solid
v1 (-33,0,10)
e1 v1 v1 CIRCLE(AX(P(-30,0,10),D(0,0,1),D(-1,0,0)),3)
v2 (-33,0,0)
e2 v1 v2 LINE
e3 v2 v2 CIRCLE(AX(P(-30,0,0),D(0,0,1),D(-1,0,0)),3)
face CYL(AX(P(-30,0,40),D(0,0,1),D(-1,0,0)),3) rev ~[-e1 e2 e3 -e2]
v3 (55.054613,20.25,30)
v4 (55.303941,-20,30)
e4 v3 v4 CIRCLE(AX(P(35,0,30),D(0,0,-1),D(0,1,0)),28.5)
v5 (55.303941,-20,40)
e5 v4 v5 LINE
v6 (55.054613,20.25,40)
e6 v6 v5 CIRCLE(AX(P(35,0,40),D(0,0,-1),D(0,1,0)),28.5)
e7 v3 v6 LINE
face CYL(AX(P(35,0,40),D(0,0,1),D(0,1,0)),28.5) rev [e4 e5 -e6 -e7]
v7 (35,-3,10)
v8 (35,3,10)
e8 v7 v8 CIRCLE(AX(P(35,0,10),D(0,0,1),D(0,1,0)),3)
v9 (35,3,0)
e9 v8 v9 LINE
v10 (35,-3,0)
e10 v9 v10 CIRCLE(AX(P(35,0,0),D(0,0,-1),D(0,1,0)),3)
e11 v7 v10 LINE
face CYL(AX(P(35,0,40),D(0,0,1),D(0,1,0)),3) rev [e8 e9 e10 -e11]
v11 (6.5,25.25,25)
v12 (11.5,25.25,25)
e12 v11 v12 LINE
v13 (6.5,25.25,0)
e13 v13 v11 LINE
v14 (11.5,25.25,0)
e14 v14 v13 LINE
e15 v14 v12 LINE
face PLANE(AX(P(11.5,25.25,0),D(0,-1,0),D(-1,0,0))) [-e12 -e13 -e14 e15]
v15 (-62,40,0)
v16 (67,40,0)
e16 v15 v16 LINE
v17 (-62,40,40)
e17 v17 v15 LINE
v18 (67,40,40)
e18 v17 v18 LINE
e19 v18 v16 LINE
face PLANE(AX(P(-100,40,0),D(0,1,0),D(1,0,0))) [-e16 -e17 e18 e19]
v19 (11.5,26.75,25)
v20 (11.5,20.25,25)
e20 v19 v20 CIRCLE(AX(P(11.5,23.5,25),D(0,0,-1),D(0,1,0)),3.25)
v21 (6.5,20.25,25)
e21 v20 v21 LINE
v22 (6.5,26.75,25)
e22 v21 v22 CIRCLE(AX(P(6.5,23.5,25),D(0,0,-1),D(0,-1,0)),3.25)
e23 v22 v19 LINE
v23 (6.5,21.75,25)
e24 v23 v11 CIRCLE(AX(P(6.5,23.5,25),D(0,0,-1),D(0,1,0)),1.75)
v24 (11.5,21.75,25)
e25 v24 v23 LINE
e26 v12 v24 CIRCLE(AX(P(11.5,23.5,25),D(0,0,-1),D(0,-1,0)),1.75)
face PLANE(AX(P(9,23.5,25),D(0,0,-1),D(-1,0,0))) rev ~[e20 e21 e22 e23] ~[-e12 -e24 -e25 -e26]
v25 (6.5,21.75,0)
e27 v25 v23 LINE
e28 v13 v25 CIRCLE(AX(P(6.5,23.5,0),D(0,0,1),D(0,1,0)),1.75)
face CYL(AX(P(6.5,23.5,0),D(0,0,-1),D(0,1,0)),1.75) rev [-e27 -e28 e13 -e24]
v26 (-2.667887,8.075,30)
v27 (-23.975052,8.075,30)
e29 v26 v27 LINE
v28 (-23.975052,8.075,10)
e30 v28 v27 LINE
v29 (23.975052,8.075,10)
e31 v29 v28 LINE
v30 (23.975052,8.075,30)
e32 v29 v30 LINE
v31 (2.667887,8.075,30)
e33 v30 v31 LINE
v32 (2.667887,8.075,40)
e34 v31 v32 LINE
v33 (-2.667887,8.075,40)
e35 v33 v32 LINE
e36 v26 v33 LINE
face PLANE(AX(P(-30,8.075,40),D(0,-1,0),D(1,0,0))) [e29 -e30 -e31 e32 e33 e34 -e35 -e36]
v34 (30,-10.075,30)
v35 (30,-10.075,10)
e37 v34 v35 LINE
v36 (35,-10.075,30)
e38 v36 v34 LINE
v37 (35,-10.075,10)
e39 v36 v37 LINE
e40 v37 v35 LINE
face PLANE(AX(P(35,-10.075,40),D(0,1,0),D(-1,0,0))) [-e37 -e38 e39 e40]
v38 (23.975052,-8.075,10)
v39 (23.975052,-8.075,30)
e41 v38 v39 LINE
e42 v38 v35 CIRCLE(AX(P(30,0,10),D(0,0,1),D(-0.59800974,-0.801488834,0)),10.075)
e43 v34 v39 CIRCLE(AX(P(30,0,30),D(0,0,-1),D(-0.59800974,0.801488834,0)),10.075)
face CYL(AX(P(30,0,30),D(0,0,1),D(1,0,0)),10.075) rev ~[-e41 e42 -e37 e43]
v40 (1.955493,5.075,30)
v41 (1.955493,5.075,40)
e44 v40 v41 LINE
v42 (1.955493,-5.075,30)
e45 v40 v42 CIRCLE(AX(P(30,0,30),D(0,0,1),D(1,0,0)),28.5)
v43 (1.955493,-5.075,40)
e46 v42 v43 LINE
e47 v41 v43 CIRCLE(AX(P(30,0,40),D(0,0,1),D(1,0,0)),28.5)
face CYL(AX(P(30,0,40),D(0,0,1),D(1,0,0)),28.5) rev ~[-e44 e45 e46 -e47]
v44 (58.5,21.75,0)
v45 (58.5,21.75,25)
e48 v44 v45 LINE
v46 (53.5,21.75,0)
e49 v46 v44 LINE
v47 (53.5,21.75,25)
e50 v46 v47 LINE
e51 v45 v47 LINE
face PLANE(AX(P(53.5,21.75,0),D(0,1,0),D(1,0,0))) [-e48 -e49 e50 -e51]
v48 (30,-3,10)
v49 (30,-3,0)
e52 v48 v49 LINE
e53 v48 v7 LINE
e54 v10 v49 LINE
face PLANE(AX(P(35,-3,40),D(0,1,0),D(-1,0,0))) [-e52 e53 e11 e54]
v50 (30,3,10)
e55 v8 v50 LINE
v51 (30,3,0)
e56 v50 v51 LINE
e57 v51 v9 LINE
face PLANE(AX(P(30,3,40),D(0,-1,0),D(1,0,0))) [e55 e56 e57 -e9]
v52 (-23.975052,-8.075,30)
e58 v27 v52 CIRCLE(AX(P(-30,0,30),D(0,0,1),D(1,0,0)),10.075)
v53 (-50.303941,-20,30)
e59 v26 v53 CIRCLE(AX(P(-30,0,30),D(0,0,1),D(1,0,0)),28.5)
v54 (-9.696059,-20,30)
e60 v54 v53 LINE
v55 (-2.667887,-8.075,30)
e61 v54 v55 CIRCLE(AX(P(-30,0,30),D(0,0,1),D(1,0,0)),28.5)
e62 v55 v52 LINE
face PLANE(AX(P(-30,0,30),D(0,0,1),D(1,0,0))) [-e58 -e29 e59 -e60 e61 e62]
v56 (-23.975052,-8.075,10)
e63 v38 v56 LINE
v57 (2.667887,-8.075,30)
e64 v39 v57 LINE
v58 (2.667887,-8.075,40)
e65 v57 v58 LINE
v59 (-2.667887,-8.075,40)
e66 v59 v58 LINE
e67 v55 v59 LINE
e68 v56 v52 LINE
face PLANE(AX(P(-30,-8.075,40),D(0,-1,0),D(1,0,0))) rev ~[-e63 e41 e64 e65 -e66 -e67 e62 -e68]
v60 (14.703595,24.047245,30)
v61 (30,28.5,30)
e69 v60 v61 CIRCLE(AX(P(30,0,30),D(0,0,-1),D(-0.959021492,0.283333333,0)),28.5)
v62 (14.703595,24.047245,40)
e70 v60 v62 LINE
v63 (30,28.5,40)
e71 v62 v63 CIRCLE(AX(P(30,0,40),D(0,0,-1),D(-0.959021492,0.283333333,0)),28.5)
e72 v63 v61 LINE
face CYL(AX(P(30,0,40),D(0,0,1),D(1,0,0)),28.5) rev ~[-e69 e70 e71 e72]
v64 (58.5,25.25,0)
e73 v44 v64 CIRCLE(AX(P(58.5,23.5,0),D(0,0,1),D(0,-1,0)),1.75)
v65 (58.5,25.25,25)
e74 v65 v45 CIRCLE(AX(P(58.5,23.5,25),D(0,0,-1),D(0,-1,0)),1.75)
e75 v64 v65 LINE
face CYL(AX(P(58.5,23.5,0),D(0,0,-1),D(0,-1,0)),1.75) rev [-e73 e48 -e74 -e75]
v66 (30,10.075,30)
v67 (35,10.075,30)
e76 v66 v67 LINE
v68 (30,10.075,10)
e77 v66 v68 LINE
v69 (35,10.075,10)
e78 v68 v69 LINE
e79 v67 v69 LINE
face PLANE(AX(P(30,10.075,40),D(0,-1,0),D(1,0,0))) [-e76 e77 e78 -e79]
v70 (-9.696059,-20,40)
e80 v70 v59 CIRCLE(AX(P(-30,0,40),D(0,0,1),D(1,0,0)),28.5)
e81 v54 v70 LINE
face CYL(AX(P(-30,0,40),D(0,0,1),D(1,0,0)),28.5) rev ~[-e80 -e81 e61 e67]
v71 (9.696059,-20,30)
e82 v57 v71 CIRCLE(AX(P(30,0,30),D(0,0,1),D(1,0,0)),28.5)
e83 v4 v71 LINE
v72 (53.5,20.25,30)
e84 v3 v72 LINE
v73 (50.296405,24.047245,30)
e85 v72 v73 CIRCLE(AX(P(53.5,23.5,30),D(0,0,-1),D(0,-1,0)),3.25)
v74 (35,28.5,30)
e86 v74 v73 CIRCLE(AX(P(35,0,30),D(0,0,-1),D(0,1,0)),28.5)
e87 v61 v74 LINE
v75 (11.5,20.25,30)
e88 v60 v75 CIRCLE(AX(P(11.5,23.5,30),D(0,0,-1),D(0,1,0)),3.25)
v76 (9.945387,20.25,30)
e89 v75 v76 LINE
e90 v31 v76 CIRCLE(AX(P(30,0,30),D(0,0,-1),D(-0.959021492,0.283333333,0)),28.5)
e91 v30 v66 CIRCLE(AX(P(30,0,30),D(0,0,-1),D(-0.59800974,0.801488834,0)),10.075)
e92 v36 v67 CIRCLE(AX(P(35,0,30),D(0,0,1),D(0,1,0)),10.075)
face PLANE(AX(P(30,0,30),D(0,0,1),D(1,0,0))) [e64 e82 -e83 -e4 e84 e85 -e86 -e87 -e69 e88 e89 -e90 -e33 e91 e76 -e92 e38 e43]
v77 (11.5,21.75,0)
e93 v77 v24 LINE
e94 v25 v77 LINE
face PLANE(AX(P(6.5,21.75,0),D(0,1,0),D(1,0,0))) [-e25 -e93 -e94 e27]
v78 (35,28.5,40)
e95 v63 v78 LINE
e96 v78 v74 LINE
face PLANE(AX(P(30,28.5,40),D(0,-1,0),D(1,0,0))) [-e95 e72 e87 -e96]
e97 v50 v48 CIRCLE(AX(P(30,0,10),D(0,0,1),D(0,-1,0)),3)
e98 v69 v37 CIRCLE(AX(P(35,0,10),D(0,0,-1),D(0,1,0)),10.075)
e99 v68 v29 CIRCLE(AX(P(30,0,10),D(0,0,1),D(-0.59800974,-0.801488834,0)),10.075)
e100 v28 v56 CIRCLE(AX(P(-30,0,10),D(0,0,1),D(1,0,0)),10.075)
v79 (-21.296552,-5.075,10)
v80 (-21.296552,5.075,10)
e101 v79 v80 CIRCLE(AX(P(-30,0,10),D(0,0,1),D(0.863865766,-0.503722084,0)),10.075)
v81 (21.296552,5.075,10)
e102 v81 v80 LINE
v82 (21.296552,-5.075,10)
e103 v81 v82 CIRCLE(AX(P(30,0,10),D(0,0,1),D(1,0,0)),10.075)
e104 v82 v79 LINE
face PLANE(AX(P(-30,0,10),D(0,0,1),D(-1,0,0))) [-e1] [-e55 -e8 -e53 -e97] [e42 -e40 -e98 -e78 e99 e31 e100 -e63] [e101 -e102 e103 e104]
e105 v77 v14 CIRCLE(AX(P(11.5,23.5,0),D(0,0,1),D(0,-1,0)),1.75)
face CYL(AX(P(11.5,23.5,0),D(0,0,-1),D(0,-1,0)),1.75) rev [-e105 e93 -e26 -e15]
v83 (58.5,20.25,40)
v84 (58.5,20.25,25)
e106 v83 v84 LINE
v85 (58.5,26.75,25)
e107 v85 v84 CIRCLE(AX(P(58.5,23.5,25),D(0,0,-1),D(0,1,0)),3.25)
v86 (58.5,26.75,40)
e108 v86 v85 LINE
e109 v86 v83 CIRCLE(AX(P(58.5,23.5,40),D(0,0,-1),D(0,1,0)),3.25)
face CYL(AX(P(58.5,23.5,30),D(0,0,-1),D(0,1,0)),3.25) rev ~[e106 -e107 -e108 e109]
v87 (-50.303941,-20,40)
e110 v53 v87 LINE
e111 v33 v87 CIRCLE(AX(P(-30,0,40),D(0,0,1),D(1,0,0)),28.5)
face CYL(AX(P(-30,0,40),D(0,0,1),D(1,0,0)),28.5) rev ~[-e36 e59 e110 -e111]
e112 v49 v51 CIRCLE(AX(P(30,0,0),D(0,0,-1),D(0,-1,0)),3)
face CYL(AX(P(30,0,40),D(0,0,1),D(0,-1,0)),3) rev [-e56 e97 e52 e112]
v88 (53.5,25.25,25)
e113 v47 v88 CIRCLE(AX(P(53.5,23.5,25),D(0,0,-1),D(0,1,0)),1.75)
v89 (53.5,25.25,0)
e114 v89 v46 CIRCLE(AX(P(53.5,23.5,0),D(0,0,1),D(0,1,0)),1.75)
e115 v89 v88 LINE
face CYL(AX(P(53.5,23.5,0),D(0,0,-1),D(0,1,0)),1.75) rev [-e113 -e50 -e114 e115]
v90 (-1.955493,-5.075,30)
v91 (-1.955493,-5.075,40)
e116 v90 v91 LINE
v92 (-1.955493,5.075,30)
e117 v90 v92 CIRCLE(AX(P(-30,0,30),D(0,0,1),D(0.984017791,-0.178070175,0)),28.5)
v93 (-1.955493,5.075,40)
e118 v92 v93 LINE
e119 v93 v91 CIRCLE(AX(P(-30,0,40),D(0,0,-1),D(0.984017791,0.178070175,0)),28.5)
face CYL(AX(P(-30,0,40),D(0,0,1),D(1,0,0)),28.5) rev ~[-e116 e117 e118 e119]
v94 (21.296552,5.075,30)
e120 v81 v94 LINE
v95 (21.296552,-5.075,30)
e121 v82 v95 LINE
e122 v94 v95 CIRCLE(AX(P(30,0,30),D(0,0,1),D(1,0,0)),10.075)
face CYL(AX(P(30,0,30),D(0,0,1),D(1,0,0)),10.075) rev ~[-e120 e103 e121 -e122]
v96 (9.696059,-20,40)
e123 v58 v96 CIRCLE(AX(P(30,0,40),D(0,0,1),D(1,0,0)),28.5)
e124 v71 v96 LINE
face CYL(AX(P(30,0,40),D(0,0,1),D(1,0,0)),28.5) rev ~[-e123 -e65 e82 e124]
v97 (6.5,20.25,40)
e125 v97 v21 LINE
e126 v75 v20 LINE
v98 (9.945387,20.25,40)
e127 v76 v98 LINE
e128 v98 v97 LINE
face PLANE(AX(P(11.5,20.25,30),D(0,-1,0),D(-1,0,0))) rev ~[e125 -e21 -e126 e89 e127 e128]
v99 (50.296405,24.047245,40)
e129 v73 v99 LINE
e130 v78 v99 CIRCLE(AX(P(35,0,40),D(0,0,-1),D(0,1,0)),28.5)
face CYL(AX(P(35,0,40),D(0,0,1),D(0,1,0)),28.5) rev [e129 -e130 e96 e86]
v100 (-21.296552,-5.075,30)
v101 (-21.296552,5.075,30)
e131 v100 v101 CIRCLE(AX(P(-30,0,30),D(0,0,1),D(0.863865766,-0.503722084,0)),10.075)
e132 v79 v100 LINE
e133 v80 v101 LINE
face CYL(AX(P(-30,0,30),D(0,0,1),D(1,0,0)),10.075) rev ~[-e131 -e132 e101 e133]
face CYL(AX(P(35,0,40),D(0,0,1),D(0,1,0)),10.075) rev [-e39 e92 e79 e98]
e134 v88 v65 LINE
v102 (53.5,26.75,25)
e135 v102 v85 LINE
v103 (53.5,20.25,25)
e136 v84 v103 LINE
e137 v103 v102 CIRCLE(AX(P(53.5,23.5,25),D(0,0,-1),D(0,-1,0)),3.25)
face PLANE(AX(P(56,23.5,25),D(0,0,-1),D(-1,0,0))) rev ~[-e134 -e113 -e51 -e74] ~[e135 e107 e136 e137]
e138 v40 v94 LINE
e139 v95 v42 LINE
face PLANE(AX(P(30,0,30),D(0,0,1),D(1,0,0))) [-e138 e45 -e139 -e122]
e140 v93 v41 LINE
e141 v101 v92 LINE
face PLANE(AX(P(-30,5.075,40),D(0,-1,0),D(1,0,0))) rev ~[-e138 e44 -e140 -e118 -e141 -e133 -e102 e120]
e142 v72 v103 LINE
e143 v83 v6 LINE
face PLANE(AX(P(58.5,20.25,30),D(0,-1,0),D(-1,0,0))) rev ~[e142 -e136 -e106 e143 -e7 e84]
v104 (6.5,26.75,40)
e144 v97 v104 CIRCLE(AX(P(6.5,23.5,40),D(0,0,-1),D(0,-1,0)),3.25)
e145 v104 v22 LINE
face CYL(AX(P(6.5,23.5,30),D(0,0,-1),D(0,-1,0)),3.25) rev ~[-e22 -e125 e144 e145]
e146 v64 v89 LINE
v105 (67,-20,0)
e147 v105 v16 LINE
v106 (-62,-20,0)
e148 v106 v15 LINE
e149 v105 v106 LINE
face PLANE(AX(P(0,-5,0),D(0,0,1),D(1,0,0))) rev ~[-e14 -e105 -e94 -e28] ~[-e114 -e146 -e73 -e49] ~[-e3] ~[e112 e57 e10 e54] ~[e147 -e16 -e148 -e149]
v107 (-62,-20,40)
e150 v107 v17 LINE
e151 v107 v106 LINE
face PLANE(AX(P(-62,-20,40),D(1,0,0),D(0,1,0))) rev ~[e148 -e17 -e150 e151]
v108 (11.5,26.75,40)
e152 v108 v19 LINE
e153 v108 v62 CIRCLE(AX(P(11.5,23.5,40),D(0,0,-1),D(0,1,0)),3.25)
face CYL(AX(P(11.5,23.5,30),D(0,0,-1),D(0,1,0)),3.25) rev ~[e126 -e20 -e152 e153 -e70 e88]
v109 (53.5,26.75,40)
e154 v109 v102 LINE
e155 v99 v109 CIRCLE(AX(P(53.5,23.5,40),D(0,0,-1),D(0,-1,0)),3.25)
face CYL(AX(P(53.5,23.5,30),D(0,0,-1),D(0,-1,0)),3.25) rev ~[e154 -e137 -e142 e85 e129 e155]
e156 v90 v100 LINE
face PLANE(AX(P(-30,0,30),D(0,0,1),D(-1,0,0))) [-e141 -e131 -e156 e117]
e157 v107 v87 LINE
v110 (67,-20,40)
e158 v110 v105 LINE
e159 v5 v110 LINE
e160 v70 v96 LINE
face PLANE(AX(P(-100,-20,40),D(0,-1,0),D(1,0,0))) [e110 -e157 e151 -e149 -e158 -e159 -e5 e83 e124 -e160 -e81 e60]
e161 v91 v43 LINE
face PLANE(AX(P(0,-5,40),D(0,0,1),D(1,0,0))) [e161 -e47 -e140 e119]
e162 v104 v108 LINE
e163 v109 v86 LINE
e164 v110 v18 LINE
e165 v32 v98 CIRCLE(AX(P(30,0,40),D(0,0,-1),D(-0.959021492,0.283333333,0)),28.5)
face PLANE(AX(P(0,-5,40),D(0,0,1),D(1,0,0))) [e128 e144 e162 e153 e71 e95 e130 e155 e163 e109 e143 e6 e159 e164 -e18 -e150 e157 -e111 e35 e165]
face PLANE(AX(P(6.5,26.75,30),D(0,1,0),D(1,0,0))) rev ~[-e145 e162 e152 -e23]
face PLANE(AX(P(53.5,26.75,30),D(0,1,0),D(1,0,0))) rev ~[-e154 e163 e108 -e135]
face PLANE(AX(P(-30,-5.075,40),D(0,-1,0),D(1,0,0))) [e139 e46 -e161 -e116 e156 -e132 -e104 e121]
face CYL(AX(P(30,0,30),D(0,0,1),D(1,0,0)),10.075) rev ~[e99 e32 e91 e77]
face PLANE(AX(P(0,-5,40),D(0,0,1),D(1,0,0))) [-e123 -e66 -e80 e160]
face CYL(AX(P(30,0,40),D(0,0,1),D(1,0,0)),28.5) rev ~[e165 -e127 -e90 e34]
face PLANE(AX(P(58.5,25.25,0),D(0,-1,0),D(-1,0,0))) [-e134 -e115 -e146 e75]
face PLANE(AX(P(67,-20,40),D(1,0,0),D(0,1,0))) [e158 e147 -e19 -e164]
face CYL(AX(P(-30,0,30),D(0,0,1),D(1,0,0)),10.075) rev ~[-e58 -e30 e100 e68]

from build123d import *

# Parameters (mm, degrees)
SKETCH1_W                          = 200
SKETCH1_H                          = 90
BOSS_EXTRUDE1_DEPTH                = 40
SHAFTFITS_WITH_5MM_TOLERANCE_REACH = 120.743
SKETCH2_R                          = 3
SHAFTFITTOLERANCE_DEPTH            = 40
SKETCH3_R                          = 8.075
PULLEY_DEPTH                       = 30
SKETCH4_R                          = 26.5
GEARS_FITS_DEPTH                   = 10
GEAR_LETOUT_REACH                  = 120.743
SKETCH5_W                          = 200
SKETCH5_H                          = 30
CLOSED_LOOP_TIMING_BELT_REACH      = 116.891
SKETCH8_W                          = 60
SKETCH8_H                          = 3
SKETCH7_R                          = 10.075
PULLEY_MARGIN_DEPTH                = 20
SKETCH6_R                          = 28.5
GEAR_MARGIN_DEPTH                  = 10
PULLEYFIXTOLERANCE_DEPTH           = 30
GEARFITSTOLERANCE_DEPTH            = 10
M3_SCREWHOLES_REACH                = 116.891
M3_SCREWHEADS_DEPTH                = 5
M3_SCREWHEADS_DIRECTION_2_REACH    = 113.803
SKETCH16_W                         = 33
SKETCH16_H                         = 60
REMOVEEXTRA1_DEPTH                 = 40
SKETCH17_W                         = 5
SKETCH17_H                         = 60
REMOVEEXTRA2_DEPTH                 = 40


with BuildPart() as part:
    # Sketch1 → Boss-Extrude1 (new body)
    with BuildSketch(Plane.XY):
        with Locations((0, -5)):
            Rectangle(SKETCH1_W, SKETCH1_H)
    extrude(amount=BOSS_EXTRUDE1_DEPTH)

    # Sketch2 → ShaftFits_with.5mm_tolerance (cut, up to next)
    with BuildSketch(Plane.XY.offset(40), mode=Mode.PRIVATE) as shaftfits_with_5mm_tolerance_sk1:
        with Locations((30, 0)):
            Circle(SKETCH2_R)
    shaftfits_with_5mm_tolerance_tool1 = extrude(shaftfits_with_5mm_tolerance_sk1.sketch, amount=-SHAFTFITS_WITH_5MM_TOLERANCE_REACH, mode=Mode.PRIVATE) & part.part
    # Sketch2 → ShaftFits_with.5mm_tolerance (cut, up to next)
    with BuildSketch(Plane.XY.offset(40), mode=Mode.PRIVATE) as shaftfits_with_5mm_tolerance_sk2:
        with Locations(Location((-30, 0, 0), (0, 0, 180))):
            Circle(SKETCH2_R)
    shaftfits_with_5mm_tolerance_tool2 = extrude(shaftfits_with_5mm_tolerance_sk2.sketch, amount=-SHAFTFITS_WITH_5MM_TOLERANCE_REACH, mode=Mode.PRIVATE) & part.part
    add(shaftfits_with_5mm_tolerance_tool1.solids().sort_by_distance((30, 0, 40))[0], mode=Mode.SUBTRACT)
    add(shaftfits_with_5mm_tolerance_tool2.solids().sort_by_distance((-30, 0, 40))[0], mode=Mode.SUBTRACT)

    # Sketch9 → ShaftFitTolerance (cut)
    with BuildSketch(Plane.XY.offset(40)):
        with BuildLine():
            Line((30, 3), (35, 3))
            ThreePointArc((35, 3), (38, 0), (35, -3))
            Line((35, -3), (30, -3))
            ThreePointArc((30, -3), (27, 0), (30, 3))
        make_face()
    extrude(amount=-SHAFTFITTOLERANCE_DEPTH, mode=Mode.SUBTRACT)

    # Sketch3 → Pulley (cut)
    with BuildSketch(Plane.XY.offset(40)):
        with Locations((30, 0)):
            Circle(SKETCH3_R)
        with Locations(Location((-30, 0, 0), (0, 0, 180))):
            Circle(SKETCH3_R)
    extrude(amount=-PULLEY_DEPTH, mode=Mode.SUBTRACT)

    # Sketch4 → Gears fits (cut)
    with BuildSketch(Plane.XY.offset(40)):
        with Locations((30, 0)):
            Circle(SKETCH4_R)
        with Locations(Location((-30, 0, 0), (0, 0, 180))):
            Circle(SKETCH4_R)
    extrude(amount=-GEARS_FITS_DEPTH, mode=Mode.SUBTRACT)

    # Sketch5 → Gear letout (cut, up to next)
    with BuildSketch(Plane.XY.offset(40), mode=Mode.PRIVATE) as gear_letout_sk1:
        with Locations((0, -35)):
            Rectangle(SKETCH5_W, SKETCH5_H)
    gear_letout_tool1 = extrude(gear_letout_sk1.sketch, amount=-GEAR_LETOUT_REACH, mode=Mode.PRIVATE) & part.part
    add(gear_letout_tool1.solids().sort_by_distance((0, -35, 40))[0], mode=Mode.SUBTRACT)

    # Closed-loop timing belt: up to this face of the body (flat: up to its plane)
    closed_loop_timing_belt_end = Plane(part.part.faces().sort_by_distance((-22.15339549, 0, 10))[0])
    # Sketch8 → Closed-loop timing belt (cut, up to the picked face)
    with BuildSketch(Plane.XY.offset(40), mode=Mode.PRIVATE) as closed_loop_timing_belt_sk1:
        with Locations((0, 6.575)):
            Rectangle(SKETCH8_W, SKETCH8_H)
    closed_loop_timing_belt_tool1 = split(extrude(closed_loop_timing_belt_sk1.sketch, amount=-CLOSED_LOOP_TIMING_BELT_REACH, mode=Mode.PRIVATE), bisect_by=closed_loop_timing_belt_end, keep=Keep.BOTH, mode=Mode.PRIVATE)
    # Sketch8 → Closed-loop timing belt (cut, up to the picked face)
    with BuildSketch(Plane.XY.offset(40), mode=Mode.PRIVATE) as closed_loop_timing_belt_sk2:
        with Locations((0, -6.575)):
            Rectangle(SKETCH8_W, SKETCH8_H)
    closed_loop_timing_belt_tool2 = split(extrude(closed_loop_timing_belt_sk2.sketch, amount=-CLOSED_LOOP_TIMING_BELT_REACH, mode=Mode.PRIVATE), bisect_by=closed_loop_timing_belt_end, keep=Keep.BOTH, mode=Mode.PRIVATE)
    add(closed_loop_timing_belt_tool1.solids().sort_by(Axis((0, 6.575, 40), (0, 0, -1)))[0], mode=Mode.SUBTRACT)
    add(closed_loop_timing_belt_tool2.solids().sort_by(Axis((0, -6.575, 40), (0, 0, -1)))[0], mode=Mode.SUBTRACT)

    # Sketch7 → Pulley margin (cut)
    with BuildSketch(Plane.XY.offset(30)):
        with Locations((30, 0)):
            Circle(SKETCH7_R)
        with Locations((-30, 0)):
            Circle(SKETCH7_R)
    extrude(amount=-PULLEY_MARGIN_DEPTH, mode=Mode.SUBTRACT)

    # Sketch6 → Gear margin (cut)
    with BuildSketch(Plane.XY.offset(40)):
        with Locations((30, 0)):
            Circle(SKETCH6_R)
        with Locations((-30, 0)):
            Circle(SKETCH6_R)
    extrude(amount=-GEAR_MARGIN_DEPTH, mode=Mode.SUBTRACT)

    # Sketch12 → PulleyFixTolerance (cut)
    with BuildSketch(Plane.XY.offset(40)):
        with BuildLine():
            Line((30, 10.075), (35, 10.075))
            ThreePointArc((35, 10.075), (45.075, 0), (35, -10.075))
            Line((35, -10.075), (30, -10.075))
            ThreePointArc((30, -10.075), (19.925, 0), (30, 10.075))
        make_face()
    extrude(amount=-PULLEYFIXTOLERANCE_DEPTH, mode=Mode.SUBTRACT)

    # Sketch13 → GearFitsTolerance (cut)
    with BuildSketch(Plane.XY.offset(40)):
        with BuildLine():
            Line((30, 28.5), (35, 28.5))
            ThreePointArc((35, 28.5), (63.5, 0), (35, -28.5))
            Line((35, -28.5), (30, -28.5))
            ThreePointArc((30, -28.5), (1.5, 0), (30, 28.5))
        make_face()
    extrude(amount=-GEARFITSTOLERANCE_DEPTH, mode=Mode.SUBTRACT)

    # M3 ScrewHoles: up to this face of the body (flat: up to its plane)
    m3_screwholes_end = Plane(part.part.faces().sort_by_distance((0, -15.281996404, 40))[0])
    # Sketch14 → M3 ScrewHoles (cut, up to the picked face)
    with BuildSketch(Plane(origin=(0, 0, 0), x_dir=(-1, 0, 0), z_dir=(0, 0, -1)), mode=Mode.PRIVATE) as m3_screwholes_sk1:
        with BuildLine():
            Line((-6.5, 21.75), (-11.5, 21.75))
            ThreePointArc((-11.5, 21.75), (-13.25, 23.5), (-11.5, 25.25))
            Line((-11.5, 25.25), (-6.5, 25.25))
            ThreePointArc((-6.5, 25.25), (-4.75, 23.5), (-6.5, 21.75))
        make_face()
    m3_screwholes_tool1 = split(extrude(m3_screwholes_sk1.sketch, amount=-M3_SCREWHOLES_REACH, mode=Mode.PRIVATE), bisect_by=m3_screwholes_end, keep=Keep.BOTH, mode=Mode.PRIVATE)
    # Sketch14 → M3 ScrewHoles (cut, up to the picked face)
    with BuildSketch(Plane(origin=(0, 0, 0), x_dir=(-1, 0, 0), z_dir=(0, 0, -1)), mode=Mode.PRIVATE) as m3_screwholes_sk2:
        with BuildLine():
            Line((-53.5, 21.75), (-58.5, 21.75))
            ThreePointArc((-58.5, 21.75), (-60.25, 23.5), (-58.5, 25.25))
            Line((-58.5, 25.25), (-53.5, 25.25))
            ThreePointArc((-53.5, 25.25), (-51.75, 23.5), (-53.5, 21.75))
        make_face()
    m3_screwholes_tool2 = split(extrude(m3_screwholes_sk2.sketch, amount=-M3_SCREWHOLES_REACH, mode=Mode.PRIVATE), bisect_by=m3_screwholes_end, keep=Keep.BOTH, mode=Mode.PRIVATE)
    # Sketch14 → M3 ScrewHoles (cut, up to the picked face)
    with BuildSketch(Plane(origin=(0, 0, 0), x_dir=(-1, 0, 0), z_dir=(0, 0, -1)), mode=Mode.PRIVATE) as m3_screwholes_sk3:
        with BuildLine():
            Line((-53.5, -21.75), (-58.5, -21.75))
            ThreePointArc((-58.5, -21.75), (-60.25, -23.5), (-58.5, -25.25))
            Line((-58.5, -25.25), (-53.5, -25.25))
            ThreePointArc((-53.5, -25.25), (-51.75, -23.5), (-53.5, -21.75))
        make_face()
    m3_screwholes_tool3 = split(extrude(m3_screwholes_sk3.sketch, amount=-M3_SCREWHOLES_REACH, mode=Mode.PRIVATE), bisect_by=m3_screwholes_end, keep=Keep.BOTH, mode=Mode.PRIVATE)
    # Sketch14 → M3 ScrewHoles (cut, up to the picked face)
    with BuildSketch(Plane(origin=(0, 0, 0), x_dir=(-1, 0, 0), z_dir=(0, 0, -1)), mode=Mode.PRIVATE) as m3_screwholes_sk4:
        with BuildLine():
            Line((-6.5, -21.75), (-11.5, -21.75))
            ThreePointArc((-11.5, -21.75), (-13.25, -23.5), (-11.5, -25.25))
            Line((-11.5, -25.25), (-6.5, -25.25))
            ThreePointArc((-6.5, -25.25), (-4.75, -23.5), (-6.5, -21.75))
        make_face()
    m3_screwholes_tool4 = split(extrude(m3_screwholes_sk4.sketch, amount=-M3_SCREWHOLES_REACH, mode=Mode.PRIVATE), bisect_by=m3_screwholes_end, keep=Keep.BOTH, mode=Mode.PRIVATE)
    add(m3_screwholes_tool1.solids().sort_by(Axis((9, 23.5, 0), (0, 0, 1)))[0], mode=Mode.SUBTRACT)
    add(m3_screwholes_tool2.solids().sort_by(Axis((56, 23.5, 0), (0, 0, 1)))[0], mode=Mode.SUBTRACT)
    add(m3_screwholes_tool3.solids().sort_by(Axis((56, -23.5, 0), (0, 0, 1)))[0], mode=Mode.SUBTRACT)
    add(m3_screwholes_tool4.solids().sort_by(Axis((9, -23.5, 0), (0, 0, 1)))[0], mode=Mode.SUBTRACT)

    # Sketch15 → M3 ScrewHeads (cut)
    with BuildSketch(Plane.XY.offset(30)):
        with BuildLine():
            Line((6.5, 26.75), (11.5, 26.75))
            ThreePointArc((11.5, 26.75), (14.75, 23.5), (11.5, 20.25))
            Line((11.5, 20.25), (6.5, 20.25))
            ThreePointArc((6.5, 20.25), (3.25, 23.5), (6.5, 26.75))
        make_face()
        with BuildLine():
            Line((53.5, 26.75), (58.5, 26.75))
            ThreePointArc((58.5, 26.75), (61.75, 23.5), (58.5, 20.25))
            Line((58.5, 20.25), (53.5, 20.25))
            ThreePointArc((53.5, 20.25), (50.25, 23.5), (53.5, 26.75))
        make_face()
    extrude(amount=-M3_SCREWHEADS_DEPTH, mode=Mode.SUBTRACT)

    # M3 ScrewHeads direction 2: up to this face of the body (flat: up to its plane)
    m3_screwheads_direction_2_end = Plane(part.part.faces().sort_by_distance((0, -15.281996404, 40))[0])
    # Sketch15 → M3 ScrewHeads direction 2 (cut, up to the picked face)
    with BuildSketch(Plane.XY.offset(30), mode=Mode.PRIVATE) as m3_screwheads_direction_2_sk1:
        with BuildLine():
            Line((6.5, 26.75), (11.5, 26.75))
            ThreePointArc((11.5, 26.75), (14.75, 23.5), (11.5, 20.25))
            Line((11.5, 20.25), (6.5, 20.25))
            ThreePointArc((6.5, 20.25), (3.25, 23.5), (6.5, 26.75))
        make_face()
    m3_screwheads_direction_2_tool1 = split(extrude(m3_screwheads_direction_2_sk1.sketch, amount=M3_SCREWHEADS_DIRECTION_2_REACH, mode=Mode.PRIVATE), bisect_by=m3_screwheads_direction_2_end, keep=Keep.BOTH, mode=Mode.PRIVATE)
    # Sketch15 → M3 ScrewHeads direction 2 (cut, up to the picked face)
    with BuildSketch(Plane.XY.offset(30), mode=Mode.PRIVATE) as m3_screwheads_direction_2_sk2:
        with BuildLine():
            Line((53.5, 26.75), (58.5, 26.75))
            ThreePointArc((58.5, 26.75), (61.75, 23.5), (58.5, 20.25))
            Line((58.5, 20.25), (53.5, 20.25))
            ThreePointArc((53.5, 20.25), (50.25, 23.5), (53.5, 26.75))
        make_face()
    m3_screwheads_direction_2_tool2 = split(extrude(m3_screwheads_direction_2_sk2.sketch, amount=M3_SCREWHEADS_DIRECTION_2_REACH, mode=Mode.PRIVATE), bisect_by=m3_screwheads_direction_2_end, keep=Keep.BOTH, mode=Mode.PRIVATE)
    add(m3_screwheads_direction_2_tool1.solids().sort_by(Axis((9, 23.5, 30), (0, 0, 1)))[0], mode=Mode.SUBTRACT)
    add(m3_screwheads_direction_2_tool2.solids().sort_by(Axis((56, 23.5, 30), (0, 0, 1)))[0], mode=Mode.SUBTRACT)

    # Sketch16 → RemoveExtra1 (cut)
    with BuildSketch(Plane.XY.offset(40)):
        with Locations((-83.5, 10)):
            Rectangle(SKETCH16_W, SKETCH16_H)
        with Locations((83.5, 10)):
            Rectangle(SKETCH16_W, SKETCH16_H)
    extrude(amount=-REMOVEEXTRA1_DEPTH, mode=Mode.SUBTRACT)

    # Sketch17 → RemoveExtra2 (cut)
    with BuildSketch(Plane.XY.offset(40)):
        with Locations((-64.5, 10)):
            Rectangle(SKETCH17_W, SKETCH17_H)
    extrude(amount=-REMOVEEXTRA2_DEPTH, mode=Mode.SUBTRACT)


solid = part.part
